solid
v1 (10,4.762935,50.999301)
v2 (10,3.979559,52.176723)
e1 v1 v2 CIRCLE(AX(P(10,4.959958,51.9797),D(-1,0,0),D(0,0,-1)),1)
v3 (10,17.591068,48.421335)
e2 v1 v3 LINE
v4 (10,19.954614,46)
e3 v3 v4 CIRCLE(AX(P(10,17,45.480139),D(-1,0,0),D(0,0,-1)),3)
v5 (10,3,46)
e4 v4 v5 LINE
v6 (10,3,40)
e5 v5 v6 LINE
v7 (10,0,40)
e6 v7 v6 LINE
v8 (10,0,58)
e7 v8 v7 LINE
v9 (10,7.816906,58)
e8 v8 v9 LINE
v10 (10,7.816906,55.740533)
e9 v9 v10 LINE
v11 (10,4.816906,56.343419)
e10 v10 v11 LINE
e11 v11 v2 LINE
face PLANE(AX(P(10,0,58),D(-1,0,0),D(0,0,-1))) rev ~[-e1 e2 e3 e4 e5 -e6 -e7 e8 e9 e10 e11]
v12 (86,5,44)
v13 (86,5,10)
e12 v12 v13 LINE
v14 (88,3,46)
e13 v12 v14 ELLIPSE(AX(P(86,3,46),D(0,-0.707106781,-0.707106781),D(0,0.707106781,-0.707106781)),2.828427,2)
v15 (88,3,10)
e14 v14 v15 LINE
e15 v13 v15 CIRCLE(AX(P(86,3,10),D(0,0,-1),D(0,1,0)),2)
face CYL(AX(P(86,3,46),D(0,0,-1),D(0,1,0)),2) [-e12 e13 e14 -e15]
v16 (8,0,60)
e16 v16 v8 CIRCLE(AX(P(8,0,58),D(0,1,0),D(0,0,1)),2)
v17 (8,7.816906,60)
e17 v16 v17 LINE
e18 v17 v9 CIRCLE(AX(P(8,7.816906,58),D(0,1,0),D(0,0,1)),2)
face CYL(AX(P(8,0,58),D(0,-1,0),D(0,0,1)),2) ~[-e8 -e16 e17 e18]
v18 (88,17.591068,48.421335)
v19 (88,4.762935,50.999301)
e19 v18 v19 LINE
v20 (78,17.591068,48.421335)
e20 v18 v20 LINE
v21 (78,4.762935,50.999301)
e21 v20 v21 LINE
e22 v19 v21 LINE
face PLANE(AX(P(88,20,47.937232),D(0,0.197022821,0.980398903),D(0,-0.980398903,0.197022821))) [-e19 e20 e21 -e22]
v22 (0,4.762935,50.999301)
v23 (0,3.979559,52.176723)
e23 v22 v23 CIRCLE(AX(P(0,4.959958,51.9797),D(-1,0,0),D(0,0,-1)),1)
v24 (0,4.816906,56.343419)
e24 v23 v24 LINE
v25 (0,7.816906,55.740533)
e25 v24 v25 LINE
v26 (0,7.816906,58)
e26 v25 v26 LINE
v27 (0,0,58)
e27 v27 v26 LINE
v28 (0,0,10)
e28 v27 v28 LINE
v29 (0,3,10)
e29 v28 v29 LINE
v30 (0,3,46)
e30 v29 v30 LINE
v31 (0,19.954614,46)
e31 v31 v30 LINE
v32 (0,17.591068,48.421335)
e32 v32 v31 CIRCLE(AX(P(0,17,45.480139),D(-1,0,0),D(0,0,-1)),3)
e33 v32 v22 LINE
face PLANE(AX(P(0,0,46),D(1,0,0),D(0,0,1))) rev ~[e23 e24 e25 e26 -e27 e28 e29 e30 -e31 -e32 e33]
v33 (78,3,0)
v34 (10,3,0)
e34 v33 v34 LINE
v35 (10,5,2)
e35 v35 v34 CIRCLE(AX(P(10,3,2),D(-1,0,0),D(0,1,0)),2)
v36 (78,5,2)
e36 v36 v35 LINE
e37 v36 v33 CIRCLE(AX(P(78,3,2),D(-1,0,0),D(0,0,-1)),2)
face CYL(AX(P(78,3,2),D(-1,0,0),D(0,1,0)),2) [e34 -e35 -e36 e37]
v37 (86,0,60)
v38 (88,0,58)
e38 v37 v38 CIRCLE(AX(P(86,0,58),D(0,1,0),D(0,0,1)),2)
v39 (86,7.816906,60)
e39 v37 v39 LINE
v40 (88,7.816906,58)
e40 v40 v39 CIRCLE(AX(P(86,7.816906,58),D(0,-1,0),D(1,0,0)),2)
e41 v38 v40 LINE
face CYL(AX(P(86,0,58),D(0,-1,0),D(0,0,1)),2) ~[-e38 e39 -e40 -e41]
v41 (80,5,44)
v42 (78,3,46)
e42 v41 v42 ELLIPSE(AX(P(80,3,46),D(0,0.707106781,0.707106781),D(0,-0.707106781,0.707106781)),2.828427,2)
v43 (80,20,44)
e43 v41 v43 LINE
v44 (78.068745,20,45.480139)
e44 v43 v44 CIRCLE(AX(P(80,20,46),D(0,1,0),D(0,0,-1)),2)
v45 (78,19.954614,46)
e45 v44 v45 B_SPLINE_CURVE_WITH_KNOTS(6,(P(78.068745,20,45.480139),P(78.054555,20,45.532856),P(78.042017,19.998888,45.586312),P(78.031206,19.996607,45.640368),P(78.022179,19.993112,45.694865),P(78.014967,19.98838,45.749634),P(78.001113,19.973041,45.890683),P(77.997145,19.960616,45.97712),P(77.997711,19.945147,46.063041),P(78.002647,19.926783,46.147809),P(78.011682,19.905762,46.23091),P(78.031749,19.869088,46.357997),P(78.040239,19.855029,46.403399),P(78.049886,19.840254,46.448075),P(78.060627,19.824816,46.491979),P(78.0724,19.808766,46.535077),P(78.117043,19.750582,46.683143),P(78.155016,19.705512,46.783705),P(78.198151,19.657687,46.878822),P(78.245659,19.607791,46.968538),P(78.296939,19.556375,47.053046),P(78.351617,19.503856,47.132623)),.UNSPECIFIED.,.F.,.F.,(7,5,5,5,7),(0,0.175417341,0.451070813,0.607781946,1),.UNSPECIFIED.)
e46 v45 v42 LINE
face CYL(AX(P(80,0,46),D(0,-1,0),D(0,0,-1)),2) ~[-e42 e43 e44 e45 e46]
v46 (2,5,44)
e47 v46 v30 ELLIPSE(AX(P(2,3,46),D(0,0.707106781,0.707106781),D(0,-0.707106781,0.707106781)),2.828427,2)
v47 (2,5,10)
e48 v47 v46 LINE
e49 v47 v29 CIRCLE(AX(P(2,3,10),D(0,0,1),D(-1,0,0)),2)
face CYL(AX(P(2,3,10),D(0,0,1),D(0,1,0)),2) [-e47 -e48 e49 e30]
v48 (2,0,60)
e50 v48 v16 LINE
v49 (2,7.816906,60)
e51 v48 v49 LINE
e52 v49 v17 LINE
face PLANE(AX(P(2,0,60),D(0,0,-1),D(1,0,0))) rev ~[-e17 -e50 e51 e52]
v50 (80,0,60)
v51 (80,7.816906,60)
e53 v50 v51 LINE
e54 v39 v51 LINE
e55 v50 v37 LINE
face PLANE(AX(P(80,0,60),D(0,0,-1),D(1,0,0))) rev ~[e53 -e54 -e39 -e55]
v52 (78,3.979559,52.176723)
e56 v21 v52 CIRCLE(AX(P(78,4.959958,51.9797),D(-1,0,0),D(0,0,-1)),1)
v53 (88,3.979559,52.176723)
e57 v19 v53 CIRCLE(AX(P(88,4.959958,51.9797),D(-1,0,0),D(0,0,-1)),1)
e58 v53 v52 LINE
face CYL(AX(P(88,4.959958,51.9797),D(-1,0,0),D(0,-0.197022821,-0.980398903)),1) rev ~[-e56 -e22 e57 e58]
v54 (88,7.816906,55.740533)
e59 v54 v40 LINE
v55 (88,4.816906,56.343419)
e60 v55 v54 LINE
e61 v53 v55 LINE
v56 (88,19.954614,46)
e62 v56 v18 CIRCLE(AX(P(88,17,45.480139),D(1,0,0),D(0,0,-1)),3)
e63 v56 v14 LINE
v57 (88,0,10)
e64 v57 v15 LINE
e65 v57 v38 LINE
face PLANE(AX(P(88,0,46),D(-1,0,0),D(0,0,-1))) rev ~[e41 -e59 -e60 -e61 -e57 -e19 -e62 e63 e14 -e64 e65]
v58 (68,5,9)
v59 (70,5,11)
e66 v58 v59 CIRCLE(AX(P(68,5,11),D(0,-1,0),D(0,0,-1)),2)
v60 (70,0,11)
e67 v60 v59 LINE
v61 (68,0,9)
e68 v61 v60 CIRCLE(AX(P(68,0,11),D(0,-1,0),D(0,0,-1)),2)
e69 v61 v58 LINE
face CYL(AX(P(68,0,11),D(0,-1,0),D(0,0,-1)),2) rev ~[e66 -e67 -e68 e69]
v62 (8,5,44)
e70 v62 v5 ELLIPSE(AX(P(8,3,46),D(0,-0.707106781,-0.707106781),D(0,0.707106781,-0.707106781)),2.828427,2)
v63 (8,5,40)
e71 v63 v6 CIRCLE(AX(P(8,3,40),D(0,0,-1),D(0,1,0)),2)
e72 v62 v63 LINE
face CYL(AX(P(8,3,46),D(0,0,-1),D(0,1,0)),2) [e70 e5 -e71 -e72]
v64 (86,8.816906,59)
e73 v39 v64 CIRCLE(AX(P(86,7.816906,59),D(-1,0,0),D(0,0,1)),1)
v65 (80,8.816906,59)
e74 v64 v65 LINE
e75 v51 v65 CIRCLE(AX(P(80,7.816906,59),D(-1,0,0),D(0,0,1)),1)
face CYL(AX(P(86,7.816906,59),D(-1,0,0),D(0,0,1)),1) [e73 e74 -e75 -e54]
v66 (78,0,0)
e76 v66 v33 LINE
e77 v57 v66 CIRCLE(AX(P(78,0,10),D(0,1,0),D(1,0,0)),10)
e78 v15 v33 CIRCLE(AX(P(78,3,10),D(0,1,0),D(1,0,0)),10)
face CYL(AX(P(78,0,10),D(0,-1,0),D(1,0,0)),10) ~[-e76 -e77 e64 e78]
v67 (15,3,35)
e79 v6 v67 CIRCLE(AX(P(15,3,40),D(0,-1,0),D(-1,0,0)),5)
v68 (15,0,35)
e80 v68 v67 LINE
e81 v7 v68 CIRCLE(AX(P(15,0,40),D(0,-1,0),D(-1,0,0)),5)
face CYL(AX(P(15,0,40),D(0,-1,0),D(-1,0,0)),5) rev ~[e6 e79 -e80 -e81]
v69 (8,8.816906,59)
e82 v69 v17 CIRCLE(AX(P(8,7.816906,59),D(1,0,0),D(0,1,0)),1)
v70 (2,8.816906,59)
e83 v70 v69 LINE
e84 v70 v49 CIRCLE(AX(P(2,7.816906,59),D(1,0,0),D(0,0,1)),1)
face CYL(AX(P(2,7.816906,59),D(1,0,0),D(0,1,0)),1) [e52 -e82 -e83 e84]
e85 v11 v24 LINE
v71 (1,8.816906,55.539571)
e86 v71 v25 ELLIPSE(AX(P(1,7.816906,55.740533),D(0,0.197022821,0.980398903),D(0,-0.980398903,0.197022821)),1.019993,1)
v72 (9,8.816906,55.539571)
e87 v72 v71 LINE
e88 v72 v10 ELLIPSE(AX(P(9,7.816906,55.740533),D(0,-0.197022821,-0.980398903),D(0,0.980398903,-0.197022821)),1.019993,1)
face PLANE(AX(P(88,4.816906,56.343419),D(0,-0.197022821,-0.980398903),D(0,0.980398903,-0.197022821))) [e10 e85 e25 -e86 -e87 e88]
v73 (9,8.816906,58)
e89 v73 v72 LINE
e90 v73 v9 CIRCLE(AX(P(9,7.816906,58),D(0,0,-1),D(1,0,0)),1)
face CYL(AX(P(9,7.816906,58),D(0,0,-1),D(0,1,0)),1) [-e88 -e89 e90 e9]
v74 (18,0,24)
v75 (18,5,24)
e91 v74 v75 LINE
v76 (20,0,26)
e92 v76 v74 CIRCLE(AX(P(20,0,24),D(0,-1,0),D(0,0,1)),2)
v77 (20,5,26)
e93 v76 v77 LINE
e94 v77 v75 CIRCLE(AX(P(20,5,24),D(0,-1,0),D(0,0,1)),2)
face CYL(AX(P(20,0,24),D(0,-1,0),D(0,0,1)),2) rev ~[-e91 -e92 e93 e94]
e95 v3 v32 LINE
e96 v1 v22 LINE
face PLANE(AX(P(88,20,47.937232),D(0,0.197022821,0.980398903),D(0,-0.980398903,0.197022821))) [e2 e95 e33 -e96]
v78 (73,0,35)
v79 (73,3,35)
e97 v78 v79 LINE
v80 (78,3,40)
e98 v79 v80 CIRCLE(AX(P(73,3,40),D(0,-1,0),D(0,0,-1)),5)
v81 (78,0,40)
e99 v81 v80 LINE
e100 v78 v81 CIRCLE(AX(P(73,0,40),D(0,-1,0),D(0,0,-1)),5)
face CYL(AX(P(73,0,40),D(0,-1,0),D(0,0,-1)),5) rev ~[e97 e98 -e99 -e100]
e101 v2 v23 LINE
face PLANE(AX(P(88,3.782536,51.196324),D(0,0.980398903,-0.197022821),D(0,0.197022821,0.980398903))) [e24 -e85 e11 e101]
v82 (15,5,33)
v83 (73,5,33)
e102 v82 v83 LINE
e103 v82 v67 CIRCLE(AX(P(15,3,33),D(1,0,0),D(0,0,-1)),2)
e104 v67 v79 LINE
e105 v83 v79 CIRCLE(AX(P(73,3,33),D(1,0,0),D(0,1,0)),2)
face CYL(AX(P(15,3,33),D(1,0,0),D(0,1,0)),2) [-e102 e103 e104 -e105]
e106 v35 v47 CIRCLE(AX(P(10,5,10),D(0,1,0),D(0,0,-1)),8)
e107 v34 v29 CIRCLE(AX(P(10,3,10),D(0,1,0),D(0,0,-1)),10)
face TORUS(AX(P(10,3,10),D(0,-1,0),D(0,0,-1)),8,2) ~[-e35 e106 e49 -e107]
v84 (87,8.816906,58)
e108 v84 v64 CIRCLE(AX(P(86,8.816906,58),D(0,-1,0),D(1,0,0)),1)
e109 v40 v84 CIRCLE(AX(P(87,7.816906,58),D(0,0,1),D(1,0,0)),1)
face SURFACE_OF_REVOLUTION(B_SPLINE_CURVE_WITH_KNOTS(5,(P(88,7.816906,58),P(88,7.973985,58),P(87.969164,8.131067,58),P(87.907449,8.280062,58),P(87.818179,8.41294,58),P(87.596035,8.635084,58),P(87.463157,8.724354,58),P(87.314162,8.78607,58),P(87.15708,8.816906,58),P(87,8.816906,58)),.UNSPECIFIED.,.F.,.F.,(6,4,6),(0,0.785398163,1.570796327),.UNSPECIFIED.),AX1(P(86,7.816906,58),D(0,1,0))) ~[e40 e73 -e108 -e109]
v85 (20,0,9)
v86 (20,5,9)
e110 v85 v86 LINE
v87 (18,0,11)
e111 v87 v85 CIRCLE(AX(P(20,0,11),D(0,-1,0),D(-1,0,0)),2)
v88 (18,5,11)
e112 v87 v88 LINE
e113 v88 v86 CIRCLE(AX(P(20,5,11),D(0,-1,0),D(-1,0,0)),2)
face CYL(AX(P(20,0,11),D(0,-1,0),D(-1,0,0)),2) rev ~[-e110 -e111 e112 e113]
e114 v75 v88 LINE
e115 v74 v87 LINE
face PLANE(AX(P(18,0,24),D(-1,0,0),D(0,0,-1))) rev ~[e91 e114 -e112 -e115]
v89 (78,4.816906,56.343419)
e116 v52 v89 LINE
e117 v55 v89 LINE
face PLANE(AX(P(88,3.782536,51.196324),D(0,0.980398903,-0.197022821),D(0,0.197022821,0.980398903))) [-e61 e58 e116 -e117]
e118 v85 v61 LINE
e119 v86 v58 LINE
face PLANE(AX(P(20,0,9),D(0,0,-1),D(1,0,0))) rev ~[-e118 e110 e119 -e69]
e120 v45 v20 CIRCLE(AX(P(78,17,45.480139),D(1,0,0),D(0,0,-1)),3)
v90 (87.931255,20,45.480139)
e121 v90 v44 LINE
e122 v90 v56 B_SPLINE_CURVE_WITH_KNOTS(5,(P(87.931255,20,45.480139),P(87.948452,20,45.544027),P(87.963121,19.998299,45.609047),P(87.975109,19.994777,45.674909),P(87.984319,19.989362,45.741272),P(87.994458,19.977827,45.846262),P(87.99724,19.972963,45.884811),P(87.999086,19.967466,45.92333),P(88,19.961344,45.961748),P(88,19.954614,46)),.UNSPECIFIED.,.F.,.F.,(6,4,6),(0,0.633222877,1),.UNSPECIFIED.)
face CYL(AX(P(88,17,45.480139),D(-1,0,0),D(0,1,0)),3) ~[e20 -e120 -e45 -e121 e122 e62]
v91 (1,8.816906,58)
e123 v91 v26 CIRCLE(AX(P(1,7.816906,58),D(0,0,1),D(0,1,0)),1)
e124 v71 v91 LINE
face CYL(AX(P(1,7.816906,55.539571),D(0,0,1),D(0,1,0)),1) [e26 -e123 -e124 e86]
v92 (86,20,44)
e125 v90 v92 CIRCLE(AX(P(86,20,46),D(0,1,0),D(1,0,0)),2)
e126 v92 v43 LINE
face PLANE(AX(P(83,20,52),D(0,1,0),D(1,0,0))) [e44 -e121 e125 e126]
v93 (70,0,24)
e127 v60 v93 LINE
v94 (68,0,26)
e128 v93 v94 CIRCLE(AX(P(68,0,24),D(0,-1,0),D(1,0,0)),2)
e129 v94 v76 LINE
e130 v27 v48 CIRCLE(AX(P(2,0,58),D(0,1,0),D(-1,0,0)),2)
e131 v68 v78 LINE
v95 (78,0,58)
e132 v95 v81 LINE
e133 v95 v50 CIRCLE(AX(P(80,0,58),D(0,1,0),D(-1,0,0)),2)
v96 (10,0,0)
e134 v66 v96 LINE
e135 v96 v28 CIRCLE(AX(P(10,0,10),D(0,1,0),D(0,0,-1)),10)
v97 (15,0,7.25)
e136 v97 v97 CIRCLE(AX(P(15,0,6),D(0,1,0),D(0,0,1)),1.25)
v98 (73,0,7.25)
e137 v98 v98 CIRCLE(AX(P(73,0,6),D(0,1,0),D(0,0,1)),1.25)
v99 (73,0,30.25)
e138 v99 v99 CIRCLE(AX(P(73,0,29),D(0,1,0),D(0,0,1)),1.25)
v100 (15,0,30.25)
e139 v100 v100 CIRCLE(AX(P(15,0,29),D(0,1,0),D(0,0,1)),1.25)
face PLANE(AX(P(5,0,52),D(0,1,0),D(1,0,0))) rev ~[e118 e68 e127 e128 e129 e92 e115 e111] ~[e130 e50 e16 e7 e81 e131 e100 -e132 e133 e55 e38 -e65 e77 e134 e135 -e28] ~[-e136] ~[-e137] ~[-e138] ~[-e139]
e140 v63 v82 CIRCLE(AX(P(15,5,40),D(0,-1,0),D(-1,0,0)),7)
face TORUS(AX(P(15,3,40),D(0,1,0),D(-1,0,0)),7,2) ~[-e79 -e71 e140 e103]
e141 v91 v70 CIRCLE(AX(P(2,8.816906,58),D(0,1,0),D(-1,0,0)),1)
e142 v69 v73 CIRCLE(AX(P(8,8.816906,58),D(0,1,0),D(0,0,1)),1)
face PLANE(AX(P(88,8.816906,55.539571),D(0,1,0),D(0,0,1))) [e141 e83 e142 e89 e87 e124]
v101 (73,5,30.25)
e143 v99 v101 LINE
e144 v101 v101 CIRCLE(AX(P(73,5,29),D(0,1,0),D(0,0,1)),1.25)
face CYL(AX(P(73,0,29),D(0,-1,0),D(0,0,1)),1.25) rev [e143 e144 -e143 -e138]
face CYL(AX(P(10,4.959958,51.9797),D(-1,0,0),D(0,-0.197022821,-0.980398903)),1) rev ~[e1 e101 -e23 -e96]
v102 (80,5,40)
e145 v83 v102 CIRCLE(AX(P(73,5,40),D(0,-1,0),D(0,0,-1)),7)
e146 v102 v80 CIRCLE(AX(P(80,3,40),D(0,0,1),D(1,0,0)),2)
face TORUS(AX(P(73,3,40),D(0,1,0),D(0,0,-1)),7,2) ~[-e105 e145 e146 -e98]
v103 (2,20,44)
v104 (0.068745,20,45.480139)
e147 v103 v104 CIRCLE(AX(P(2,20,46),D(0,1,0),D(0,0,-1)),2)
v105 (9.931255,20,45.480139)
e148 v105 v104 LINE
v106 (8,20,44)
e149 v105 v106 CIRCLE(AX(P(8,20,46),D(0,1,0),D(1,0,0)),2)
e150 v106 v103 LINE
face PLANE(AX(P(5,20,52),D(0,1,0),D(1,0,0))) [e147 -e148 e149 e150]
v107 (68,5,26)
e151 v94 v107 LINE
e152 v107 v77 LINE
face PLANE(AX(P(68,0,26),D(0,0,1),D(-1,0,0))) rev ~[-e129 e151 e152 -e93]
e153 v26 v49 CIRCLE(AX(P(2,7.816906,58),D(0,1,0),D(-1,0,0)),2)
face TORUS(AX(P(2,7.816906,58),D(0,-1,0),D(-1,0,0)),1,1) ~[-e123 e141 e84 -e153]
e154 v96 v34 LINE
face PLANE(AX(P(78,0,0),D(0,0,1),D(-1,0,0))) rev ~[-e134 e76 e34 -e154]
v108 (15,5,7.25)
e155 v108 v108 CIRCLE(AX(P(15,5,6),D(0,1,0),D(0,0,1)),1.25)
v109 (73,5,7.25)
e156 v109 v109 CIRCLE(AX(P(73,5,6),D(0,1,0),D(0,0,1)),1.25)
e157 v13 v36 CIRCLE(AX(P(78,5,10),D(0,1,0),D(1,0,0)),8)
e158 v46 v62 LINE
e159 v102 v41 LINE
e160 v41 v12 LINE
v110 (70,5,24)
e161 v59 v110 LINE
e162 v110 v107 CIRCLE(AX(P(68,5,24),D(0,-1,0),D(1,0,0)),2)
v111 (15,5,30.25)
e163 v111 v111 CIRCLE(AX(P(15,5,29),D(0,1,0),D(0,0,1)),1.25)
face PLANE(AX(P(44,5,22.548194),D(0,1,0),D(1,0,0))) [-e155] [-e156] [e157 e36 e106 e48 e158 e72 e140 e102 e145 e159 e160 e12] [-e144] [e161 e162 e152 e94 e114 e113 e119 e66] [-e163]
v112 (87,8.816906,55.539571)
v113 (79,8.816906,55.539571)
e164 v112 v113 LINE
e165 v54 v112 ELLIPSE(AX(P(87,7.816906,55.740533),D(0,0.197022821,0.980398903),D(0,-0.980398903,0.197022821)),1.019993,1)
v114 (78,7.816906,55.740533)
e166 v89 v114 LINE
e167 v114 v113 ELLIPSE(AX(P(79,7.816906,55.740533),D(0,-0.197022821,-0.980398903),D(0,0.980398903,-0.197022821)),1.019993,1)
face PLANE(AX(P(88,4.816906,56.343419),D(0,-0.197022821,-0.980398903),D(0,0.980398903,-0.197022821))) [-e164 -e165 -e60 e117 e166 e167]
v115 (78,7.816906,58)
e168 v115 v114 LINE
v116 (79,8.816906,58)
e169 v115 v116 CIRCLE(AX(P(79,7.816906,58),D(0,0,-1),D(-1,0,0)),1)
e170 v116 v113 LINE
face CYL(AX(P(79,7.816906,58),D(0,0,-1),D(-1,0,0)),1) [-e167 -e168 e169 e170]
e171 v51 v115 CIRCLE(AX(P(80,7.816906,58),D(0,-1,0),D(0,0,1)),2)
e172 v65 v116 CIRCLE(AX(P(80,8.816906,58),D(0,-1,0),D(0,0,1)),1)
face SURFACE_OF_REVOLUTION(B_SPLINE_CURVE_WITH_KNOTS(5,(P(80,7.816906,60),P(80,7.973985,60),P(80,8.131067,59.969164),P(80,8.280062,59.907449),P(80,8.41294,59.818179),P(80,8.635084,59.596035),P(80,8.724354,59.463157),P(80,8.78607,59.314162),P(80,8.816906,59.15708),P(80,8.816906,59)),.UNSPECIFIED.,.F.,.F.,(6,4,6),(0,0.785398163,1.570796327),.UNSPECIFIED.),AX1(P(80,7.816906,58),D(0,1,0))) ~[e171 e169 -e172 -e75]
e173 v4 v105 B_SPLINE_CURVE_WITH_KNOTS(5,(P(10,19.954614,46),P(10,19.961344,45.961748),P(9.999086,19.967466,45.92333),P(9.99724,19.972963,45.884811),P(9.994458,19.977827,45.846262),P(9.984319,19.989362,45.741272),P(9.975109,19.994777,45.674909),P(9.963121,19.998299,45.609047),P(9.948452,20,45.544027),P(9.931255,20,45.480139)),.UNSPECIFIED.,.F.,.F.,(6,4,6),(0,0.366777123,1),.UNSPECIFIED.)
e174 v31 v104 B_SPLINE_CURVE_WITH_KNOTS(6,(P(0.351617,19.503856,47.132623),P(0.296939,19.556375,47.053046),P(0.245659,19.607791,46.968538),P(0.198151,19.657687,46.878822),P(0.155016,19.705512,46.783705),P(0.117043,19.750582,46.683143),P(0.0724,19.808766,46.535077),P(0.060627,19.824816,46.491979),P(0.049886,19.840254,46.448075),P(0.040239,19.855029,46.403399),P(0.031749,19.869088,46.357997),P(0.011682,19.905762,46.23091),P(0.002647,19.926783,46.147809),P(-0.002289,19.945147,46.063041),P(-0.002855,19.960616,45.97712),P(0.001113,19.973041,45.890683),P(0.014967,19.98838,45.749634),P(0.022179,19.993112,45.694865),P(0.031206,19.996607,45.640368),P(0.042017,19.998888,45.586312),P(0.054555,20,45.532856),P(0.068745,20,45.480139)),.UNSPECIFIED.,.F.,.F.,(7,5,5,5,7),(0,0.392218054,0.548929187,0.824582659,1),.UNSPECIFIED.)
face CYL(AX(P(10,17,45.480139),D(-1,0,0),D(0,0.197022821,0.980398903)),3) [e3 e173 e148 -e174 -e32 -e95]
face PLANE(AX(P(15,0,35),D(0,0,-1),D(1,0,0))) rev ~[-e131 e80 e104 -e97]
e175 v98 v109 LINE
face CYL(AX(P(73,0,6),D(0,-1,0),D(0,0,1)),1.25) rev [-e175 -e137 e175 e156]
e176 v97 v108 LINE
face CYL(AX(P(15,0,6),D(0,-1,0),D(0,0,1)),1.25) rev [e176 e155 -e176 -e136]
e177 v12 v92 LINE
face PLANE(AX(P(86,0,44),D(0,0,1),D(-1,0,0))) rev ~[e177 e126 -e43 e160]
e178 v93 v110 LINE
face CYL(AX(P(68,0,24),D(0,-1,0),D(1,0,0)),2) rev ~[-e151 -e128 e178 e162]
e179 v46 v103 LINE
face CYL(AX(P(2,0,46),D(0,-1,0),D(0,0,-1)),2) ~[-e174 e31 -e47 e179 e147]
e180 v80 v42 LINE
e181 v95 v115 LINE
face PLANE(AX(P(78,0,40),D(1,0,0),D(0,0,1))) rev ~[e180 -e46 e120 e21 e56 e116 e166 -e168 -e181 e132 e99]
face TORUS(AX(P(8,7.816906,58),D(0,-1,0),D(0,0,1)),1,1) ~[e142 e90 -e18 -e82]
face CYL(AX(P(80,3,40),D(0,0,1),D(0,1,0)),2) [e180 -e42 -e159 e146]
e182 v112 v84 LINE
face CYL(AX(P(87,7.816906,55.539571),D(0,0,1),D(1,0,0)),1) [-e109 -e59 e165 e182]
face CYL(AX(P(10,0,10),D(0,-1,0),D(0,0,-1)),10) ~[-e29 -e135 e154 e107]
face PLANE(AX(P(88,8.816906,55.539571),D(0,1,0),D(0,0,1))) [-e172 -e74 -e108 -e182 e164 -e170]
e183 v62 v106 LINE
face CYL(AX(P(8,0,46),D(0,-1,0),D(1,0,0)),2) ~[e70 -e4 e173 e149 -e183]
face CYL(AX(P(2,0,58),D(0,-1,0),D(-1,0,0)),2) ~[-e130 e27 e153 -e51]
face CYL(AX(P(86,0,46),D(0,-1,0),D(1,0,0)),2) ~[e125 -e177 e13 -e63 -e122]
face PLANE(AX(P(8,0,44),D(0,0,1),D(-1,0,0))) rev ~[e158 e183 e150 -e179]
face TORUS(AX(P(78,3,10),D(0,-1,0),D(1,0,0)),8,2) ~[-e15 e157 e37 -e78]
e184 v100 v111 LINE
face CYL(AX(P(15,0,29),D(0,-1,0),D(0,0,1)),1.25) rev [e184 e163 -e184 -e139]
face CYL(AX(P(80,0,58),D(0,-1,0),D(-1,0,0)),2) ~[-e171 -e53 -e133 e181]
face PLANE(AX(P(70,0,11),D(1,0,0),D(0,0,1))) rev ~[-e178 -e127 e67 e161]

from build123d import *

# Parameters (mm, degrees)
SKETCH1_R           = 1.2500000000000062
SKETCH1_R_2         = 1.2500000000000029
SKETCH1_R_3         = 1.2499999999999978
SKETCH1_R_4         = 1.2499999999999976
BOSS_EXTRUDE1_DEPTH = 5
BOSS_EXTRUDE2_DEPTH = 20
CUT_EXTRUDE1_DEPTH  = 109.36973747315251
FILLET1_R           = 1
FILLET4_R           = 2
FILLET5_R           = 2
FILLET8_R           = 3
FILLET9_R           = 1


with BuildPart() as part:
    # Sketch1 → Boss-Extrude1 (new body)
    with BuildSketch(Plane(origin=(0, 0, 0), x_dir=(1, 0, 0), z_dir=(0, 1, 0))):
        with BuildLine():
            Line((78, -39.99999999999999), (78, -46))
            ThreePointArc((78, -46), (78.5857864376269, -44.58578643762691), (79.99999999999999, -43.99999999999999))
            Line((79.99999999999999, -44), (85.99999999999999, -44))
            ThreePointArc((85.99999999999999, -44), (87.41421356237308, -44.58578643762691), (87.99999999999999, -46))
            Line((87.99999999999999, -46), (88, -9.999999999999998))
            ThreePointArc((88, -9.999999999999998), (85.07106781186548, -2.9289321881345147), (77.99999999999999, -5.33e-15))
            Line((77.99999999999999, 0), (10.000000000000071, 0))
            ThreePointArc((10.000000000000071, 1.78e-15), (2.9289321881345236, -2.9289321881345245), (0, -10.000000000000071))
            Line((1.22e-15, -10.000000000000071), (5.63e-15, -46))
            ThreePointArc((4.88e-15, -46), (0.5857864376269124, -44.58578643762691), (2.000000000000006, -44))
            Line((2.000000000000006, -44), (8.000000000000005, -44))
            ThreePointArc((8.000000000000005, -44), (9.414213562373103, -44.5857864376269), (10.000000000000007, -46))
            Line((10.000000000000007, -46), (10.000000000000007, -39.99999999999999))
            ThreePointArc((10.000000000000007, -39.99999999999999), (11.46446609406727, -36.464466094067255), (15.000000000000007, -34.99999999999999))
            Line((15.000000000000007, -34.99999999999999), (73, -34.99999999999999))
            ThreePointArc((73, -34.99999999999999), (76.53553390593274, -36.464466094067255), (78, -39.99999999999999))
        make_face()
        with Locations((15.000000000000002, -28.999999999999996)):
            Circle(SKETCH1_R, mode=Mode.SUBTRACT)
        with Locations((14.999999999999998, -6)):
            Circle(SKETCH1_R_2, mode=Mode.SUBTRACT)
        with BuildLine():
            ThreePointArc((17.999999999999996, -11.000000000000004), (18.5857864376269, -9.585786437626908), (19.999999999999996, -9))
            Line((19.999999999999996, -9), (68, -9))
            ThreePointArc((68, -9.000000000000005), (69.41421356237309, -9.58578643762691), (70, -11.000000000000004))
            Line((70, -11.000000000000004), (70, -24))
            ThreePointArc((70, -24), (69.41421356237309, -25.414213562373092), (68, -25.999999999999996))
            Line((68, -26.000000000000004), (19.999999999999996, -26))
            ThreePointArc((19.999999999999996, -26), (18.585786437626908, -25.41421356237309), (18.000000000000004, -24))
            Line((18.000000000000004, -24), (17.999999999999996, -11.000000000000004))
        make_face(mode=Mode.SUBTRACT)
        with Locations((73.00000000000001, -28.999999999999993)):
            Circle(SKETCH1_R_3, mode=Mode.SUBTRACT)
        with Locations((73.00000000000001, -6)):
            Circle(SKETCH1_R_4, mode=Mode.SUBTRACT)
    extrude(amount=BOSS_EXTRUDE1_DEPTH)

    # Sketch1<3> → Boss-Extrude2 (add)
    with BuildSketch(Plane(origin=(0, 0, 0), x_dir=(1, 0, 0), z_dir=(0, 1, 0))):
        with BuildLine():
            ThreePointArc((78, -57.99999999999999), (78.5857864376269, -59.41421356237309), (80, -60))
            Line((80, -60), (86, -60))
            ThreePointArc((86, -60), (87.41421356237309, -59.4142135623731), (87.99999999999999, -57.99999999999999))
            Line((87.99999999999999, -57.99999999999999), (87.99999999999999, -46))
            ThreePointArc((87.99999999999999, -46), (87.41421356237308, -44.58578643762691), (85.99999999999999, -44))
            Line((85.99999999999999, -44), (79.99999999999999, -44))
            ThreePointArc((79.99999999999999, -43.99999999999999), (78.5857864376269, -44.58578643762691), (78, -46))
            Line((78, -46), (78, -57.99999999999999))
        make_face()
        with BuildLine():
            Line((10.000000000000007, -57.99999999999998), (10.000000000000007, -46))
            ThreePointArc((10.000000000000007, -46), (9.414213562373103, -44.5857864376269), (8.000000000000005, -44))
            Line((8.000000000000005, -44), (2.000000000000006, -44))
            ThreePointArc((2.000000000000006, -44), (0.5857864376269124, -44.58578643762691), (4.88e-15, -46))
            Line((5.63e-15, -46), (7.1e-15, -57.99999999999998))
            ThreePointArc((7.99e-15, -57.99999999999998), (0.5857864376269144, -59.414213562373085), (2.0000000000000218, -60))
            Line((2.0000000000000218, -60), (7.999999999999993, -60))
            ThreePointArc((7.999999999999993, -60), (9.4142135623731, -59.414213562373085), (10.000000000000007, -57.99999999999998))
        make_face()
    extrude(amount=BOSS_EXTRUDE2_DEPTH)

    # Sketch2 → Cut-Extrude1 (cut, through all)
    with BuildSketch(Plane(origin=(88, 0, 2.544e-14), x_dir=(-2.9e-16, 0, -1), z_dir=(1, 0, -2.9e-16))):
        Polygon((-60.00000000000003, 20), (-59.99999999999998, 8.816905616081954), (-55.53957096656065, 8.816905616081954), (-56.34341854385401, 4.816905616081951), (-51.19632430540917, 3.782535807663335), (-47.93723198019628, 20), align=None)
    extrude(amount=-CUT_EXTRUDE1_DEPTH, mode=Mode.SUBTRACT)

    # Fillet1
    fillet1_edges = [part.edges().sort_by_distance(p)[0] for p in [
        (1.038e-14, 8.816905616081954, 56.769785483280344),
        (10.00000000000001, 8.816905616081954, 56.76978548328034),
        (9.4142135623731, 8.816905616081954, 59.414213562373085),
        (5.000000000000014, 8.816905616081954, 60.00000000000003),
        (0.585786437626916, 8.816905616081954, 59.414213562373085),
        (78, 8.816905616081954, 56.76978548328034),
        (78.5857864376269, 8.816905616081954, 59.4142135623731),
        (88.00000000000001, 8.816905616081954, 56.76978548328034),
        (87.41421356237309, 8.816905616081954, 59.41421356237309),
        (83, 8.816905616081954, 60.00000000000001),
    ]]
    fillet(fillet1_edges, radius=FILLET1_R)

    # Fillet4
    fillet4_edges = [part.edges().sort_by_distance(p)[0] for p in [
        (88, 5, 28),
        (85.07106781186548, 5, 2.928932188134512),
        (44.00000000000003, 5, 0),
        (2.9289321881345245, 5, 2.9289321881345236),
        (3.43e-15, 5, 28.000000000000036),
    ]]
    fillet(fillet4_edges, radius=FILLET4_R)

    # Fillet5
    fillet5_edges = [part.edges().sort_by_distance(p)[0] for p in [
        (10.000000000000007, 5, 43),
        (11.46446609406727, 5, 36.464466094067255),
        (78, 5, 43),
        (76.53553390593274, 5, 36.464466094067255),
        (44, 5, 34.99999999999999),
    ]]
    fillet(fillet5_edges, radius=FILLET5_R)

    # Fillet8
    fillet8_edges = [part.edges().sort_by_distance(p)[0] for p in [
        (83, 20, 47.93723198019631),
        (5.000000000000014, 20, 47.93723198019633),
    ]]
    fillet(fillet8_edges, radius=FILLET8_R)

    # Fillet9
    fillet9_edges = [part.edges().sort_by_distance(p)[0] for p in [
        (83, 3.782535807663335, 51.1963243054092),
        (5.000000000000014, 3.782535807663335, 51.19632430540922),
    ]]
    fillet(fillet9_edges, radius=FILLET9_R)


solid = part.part
